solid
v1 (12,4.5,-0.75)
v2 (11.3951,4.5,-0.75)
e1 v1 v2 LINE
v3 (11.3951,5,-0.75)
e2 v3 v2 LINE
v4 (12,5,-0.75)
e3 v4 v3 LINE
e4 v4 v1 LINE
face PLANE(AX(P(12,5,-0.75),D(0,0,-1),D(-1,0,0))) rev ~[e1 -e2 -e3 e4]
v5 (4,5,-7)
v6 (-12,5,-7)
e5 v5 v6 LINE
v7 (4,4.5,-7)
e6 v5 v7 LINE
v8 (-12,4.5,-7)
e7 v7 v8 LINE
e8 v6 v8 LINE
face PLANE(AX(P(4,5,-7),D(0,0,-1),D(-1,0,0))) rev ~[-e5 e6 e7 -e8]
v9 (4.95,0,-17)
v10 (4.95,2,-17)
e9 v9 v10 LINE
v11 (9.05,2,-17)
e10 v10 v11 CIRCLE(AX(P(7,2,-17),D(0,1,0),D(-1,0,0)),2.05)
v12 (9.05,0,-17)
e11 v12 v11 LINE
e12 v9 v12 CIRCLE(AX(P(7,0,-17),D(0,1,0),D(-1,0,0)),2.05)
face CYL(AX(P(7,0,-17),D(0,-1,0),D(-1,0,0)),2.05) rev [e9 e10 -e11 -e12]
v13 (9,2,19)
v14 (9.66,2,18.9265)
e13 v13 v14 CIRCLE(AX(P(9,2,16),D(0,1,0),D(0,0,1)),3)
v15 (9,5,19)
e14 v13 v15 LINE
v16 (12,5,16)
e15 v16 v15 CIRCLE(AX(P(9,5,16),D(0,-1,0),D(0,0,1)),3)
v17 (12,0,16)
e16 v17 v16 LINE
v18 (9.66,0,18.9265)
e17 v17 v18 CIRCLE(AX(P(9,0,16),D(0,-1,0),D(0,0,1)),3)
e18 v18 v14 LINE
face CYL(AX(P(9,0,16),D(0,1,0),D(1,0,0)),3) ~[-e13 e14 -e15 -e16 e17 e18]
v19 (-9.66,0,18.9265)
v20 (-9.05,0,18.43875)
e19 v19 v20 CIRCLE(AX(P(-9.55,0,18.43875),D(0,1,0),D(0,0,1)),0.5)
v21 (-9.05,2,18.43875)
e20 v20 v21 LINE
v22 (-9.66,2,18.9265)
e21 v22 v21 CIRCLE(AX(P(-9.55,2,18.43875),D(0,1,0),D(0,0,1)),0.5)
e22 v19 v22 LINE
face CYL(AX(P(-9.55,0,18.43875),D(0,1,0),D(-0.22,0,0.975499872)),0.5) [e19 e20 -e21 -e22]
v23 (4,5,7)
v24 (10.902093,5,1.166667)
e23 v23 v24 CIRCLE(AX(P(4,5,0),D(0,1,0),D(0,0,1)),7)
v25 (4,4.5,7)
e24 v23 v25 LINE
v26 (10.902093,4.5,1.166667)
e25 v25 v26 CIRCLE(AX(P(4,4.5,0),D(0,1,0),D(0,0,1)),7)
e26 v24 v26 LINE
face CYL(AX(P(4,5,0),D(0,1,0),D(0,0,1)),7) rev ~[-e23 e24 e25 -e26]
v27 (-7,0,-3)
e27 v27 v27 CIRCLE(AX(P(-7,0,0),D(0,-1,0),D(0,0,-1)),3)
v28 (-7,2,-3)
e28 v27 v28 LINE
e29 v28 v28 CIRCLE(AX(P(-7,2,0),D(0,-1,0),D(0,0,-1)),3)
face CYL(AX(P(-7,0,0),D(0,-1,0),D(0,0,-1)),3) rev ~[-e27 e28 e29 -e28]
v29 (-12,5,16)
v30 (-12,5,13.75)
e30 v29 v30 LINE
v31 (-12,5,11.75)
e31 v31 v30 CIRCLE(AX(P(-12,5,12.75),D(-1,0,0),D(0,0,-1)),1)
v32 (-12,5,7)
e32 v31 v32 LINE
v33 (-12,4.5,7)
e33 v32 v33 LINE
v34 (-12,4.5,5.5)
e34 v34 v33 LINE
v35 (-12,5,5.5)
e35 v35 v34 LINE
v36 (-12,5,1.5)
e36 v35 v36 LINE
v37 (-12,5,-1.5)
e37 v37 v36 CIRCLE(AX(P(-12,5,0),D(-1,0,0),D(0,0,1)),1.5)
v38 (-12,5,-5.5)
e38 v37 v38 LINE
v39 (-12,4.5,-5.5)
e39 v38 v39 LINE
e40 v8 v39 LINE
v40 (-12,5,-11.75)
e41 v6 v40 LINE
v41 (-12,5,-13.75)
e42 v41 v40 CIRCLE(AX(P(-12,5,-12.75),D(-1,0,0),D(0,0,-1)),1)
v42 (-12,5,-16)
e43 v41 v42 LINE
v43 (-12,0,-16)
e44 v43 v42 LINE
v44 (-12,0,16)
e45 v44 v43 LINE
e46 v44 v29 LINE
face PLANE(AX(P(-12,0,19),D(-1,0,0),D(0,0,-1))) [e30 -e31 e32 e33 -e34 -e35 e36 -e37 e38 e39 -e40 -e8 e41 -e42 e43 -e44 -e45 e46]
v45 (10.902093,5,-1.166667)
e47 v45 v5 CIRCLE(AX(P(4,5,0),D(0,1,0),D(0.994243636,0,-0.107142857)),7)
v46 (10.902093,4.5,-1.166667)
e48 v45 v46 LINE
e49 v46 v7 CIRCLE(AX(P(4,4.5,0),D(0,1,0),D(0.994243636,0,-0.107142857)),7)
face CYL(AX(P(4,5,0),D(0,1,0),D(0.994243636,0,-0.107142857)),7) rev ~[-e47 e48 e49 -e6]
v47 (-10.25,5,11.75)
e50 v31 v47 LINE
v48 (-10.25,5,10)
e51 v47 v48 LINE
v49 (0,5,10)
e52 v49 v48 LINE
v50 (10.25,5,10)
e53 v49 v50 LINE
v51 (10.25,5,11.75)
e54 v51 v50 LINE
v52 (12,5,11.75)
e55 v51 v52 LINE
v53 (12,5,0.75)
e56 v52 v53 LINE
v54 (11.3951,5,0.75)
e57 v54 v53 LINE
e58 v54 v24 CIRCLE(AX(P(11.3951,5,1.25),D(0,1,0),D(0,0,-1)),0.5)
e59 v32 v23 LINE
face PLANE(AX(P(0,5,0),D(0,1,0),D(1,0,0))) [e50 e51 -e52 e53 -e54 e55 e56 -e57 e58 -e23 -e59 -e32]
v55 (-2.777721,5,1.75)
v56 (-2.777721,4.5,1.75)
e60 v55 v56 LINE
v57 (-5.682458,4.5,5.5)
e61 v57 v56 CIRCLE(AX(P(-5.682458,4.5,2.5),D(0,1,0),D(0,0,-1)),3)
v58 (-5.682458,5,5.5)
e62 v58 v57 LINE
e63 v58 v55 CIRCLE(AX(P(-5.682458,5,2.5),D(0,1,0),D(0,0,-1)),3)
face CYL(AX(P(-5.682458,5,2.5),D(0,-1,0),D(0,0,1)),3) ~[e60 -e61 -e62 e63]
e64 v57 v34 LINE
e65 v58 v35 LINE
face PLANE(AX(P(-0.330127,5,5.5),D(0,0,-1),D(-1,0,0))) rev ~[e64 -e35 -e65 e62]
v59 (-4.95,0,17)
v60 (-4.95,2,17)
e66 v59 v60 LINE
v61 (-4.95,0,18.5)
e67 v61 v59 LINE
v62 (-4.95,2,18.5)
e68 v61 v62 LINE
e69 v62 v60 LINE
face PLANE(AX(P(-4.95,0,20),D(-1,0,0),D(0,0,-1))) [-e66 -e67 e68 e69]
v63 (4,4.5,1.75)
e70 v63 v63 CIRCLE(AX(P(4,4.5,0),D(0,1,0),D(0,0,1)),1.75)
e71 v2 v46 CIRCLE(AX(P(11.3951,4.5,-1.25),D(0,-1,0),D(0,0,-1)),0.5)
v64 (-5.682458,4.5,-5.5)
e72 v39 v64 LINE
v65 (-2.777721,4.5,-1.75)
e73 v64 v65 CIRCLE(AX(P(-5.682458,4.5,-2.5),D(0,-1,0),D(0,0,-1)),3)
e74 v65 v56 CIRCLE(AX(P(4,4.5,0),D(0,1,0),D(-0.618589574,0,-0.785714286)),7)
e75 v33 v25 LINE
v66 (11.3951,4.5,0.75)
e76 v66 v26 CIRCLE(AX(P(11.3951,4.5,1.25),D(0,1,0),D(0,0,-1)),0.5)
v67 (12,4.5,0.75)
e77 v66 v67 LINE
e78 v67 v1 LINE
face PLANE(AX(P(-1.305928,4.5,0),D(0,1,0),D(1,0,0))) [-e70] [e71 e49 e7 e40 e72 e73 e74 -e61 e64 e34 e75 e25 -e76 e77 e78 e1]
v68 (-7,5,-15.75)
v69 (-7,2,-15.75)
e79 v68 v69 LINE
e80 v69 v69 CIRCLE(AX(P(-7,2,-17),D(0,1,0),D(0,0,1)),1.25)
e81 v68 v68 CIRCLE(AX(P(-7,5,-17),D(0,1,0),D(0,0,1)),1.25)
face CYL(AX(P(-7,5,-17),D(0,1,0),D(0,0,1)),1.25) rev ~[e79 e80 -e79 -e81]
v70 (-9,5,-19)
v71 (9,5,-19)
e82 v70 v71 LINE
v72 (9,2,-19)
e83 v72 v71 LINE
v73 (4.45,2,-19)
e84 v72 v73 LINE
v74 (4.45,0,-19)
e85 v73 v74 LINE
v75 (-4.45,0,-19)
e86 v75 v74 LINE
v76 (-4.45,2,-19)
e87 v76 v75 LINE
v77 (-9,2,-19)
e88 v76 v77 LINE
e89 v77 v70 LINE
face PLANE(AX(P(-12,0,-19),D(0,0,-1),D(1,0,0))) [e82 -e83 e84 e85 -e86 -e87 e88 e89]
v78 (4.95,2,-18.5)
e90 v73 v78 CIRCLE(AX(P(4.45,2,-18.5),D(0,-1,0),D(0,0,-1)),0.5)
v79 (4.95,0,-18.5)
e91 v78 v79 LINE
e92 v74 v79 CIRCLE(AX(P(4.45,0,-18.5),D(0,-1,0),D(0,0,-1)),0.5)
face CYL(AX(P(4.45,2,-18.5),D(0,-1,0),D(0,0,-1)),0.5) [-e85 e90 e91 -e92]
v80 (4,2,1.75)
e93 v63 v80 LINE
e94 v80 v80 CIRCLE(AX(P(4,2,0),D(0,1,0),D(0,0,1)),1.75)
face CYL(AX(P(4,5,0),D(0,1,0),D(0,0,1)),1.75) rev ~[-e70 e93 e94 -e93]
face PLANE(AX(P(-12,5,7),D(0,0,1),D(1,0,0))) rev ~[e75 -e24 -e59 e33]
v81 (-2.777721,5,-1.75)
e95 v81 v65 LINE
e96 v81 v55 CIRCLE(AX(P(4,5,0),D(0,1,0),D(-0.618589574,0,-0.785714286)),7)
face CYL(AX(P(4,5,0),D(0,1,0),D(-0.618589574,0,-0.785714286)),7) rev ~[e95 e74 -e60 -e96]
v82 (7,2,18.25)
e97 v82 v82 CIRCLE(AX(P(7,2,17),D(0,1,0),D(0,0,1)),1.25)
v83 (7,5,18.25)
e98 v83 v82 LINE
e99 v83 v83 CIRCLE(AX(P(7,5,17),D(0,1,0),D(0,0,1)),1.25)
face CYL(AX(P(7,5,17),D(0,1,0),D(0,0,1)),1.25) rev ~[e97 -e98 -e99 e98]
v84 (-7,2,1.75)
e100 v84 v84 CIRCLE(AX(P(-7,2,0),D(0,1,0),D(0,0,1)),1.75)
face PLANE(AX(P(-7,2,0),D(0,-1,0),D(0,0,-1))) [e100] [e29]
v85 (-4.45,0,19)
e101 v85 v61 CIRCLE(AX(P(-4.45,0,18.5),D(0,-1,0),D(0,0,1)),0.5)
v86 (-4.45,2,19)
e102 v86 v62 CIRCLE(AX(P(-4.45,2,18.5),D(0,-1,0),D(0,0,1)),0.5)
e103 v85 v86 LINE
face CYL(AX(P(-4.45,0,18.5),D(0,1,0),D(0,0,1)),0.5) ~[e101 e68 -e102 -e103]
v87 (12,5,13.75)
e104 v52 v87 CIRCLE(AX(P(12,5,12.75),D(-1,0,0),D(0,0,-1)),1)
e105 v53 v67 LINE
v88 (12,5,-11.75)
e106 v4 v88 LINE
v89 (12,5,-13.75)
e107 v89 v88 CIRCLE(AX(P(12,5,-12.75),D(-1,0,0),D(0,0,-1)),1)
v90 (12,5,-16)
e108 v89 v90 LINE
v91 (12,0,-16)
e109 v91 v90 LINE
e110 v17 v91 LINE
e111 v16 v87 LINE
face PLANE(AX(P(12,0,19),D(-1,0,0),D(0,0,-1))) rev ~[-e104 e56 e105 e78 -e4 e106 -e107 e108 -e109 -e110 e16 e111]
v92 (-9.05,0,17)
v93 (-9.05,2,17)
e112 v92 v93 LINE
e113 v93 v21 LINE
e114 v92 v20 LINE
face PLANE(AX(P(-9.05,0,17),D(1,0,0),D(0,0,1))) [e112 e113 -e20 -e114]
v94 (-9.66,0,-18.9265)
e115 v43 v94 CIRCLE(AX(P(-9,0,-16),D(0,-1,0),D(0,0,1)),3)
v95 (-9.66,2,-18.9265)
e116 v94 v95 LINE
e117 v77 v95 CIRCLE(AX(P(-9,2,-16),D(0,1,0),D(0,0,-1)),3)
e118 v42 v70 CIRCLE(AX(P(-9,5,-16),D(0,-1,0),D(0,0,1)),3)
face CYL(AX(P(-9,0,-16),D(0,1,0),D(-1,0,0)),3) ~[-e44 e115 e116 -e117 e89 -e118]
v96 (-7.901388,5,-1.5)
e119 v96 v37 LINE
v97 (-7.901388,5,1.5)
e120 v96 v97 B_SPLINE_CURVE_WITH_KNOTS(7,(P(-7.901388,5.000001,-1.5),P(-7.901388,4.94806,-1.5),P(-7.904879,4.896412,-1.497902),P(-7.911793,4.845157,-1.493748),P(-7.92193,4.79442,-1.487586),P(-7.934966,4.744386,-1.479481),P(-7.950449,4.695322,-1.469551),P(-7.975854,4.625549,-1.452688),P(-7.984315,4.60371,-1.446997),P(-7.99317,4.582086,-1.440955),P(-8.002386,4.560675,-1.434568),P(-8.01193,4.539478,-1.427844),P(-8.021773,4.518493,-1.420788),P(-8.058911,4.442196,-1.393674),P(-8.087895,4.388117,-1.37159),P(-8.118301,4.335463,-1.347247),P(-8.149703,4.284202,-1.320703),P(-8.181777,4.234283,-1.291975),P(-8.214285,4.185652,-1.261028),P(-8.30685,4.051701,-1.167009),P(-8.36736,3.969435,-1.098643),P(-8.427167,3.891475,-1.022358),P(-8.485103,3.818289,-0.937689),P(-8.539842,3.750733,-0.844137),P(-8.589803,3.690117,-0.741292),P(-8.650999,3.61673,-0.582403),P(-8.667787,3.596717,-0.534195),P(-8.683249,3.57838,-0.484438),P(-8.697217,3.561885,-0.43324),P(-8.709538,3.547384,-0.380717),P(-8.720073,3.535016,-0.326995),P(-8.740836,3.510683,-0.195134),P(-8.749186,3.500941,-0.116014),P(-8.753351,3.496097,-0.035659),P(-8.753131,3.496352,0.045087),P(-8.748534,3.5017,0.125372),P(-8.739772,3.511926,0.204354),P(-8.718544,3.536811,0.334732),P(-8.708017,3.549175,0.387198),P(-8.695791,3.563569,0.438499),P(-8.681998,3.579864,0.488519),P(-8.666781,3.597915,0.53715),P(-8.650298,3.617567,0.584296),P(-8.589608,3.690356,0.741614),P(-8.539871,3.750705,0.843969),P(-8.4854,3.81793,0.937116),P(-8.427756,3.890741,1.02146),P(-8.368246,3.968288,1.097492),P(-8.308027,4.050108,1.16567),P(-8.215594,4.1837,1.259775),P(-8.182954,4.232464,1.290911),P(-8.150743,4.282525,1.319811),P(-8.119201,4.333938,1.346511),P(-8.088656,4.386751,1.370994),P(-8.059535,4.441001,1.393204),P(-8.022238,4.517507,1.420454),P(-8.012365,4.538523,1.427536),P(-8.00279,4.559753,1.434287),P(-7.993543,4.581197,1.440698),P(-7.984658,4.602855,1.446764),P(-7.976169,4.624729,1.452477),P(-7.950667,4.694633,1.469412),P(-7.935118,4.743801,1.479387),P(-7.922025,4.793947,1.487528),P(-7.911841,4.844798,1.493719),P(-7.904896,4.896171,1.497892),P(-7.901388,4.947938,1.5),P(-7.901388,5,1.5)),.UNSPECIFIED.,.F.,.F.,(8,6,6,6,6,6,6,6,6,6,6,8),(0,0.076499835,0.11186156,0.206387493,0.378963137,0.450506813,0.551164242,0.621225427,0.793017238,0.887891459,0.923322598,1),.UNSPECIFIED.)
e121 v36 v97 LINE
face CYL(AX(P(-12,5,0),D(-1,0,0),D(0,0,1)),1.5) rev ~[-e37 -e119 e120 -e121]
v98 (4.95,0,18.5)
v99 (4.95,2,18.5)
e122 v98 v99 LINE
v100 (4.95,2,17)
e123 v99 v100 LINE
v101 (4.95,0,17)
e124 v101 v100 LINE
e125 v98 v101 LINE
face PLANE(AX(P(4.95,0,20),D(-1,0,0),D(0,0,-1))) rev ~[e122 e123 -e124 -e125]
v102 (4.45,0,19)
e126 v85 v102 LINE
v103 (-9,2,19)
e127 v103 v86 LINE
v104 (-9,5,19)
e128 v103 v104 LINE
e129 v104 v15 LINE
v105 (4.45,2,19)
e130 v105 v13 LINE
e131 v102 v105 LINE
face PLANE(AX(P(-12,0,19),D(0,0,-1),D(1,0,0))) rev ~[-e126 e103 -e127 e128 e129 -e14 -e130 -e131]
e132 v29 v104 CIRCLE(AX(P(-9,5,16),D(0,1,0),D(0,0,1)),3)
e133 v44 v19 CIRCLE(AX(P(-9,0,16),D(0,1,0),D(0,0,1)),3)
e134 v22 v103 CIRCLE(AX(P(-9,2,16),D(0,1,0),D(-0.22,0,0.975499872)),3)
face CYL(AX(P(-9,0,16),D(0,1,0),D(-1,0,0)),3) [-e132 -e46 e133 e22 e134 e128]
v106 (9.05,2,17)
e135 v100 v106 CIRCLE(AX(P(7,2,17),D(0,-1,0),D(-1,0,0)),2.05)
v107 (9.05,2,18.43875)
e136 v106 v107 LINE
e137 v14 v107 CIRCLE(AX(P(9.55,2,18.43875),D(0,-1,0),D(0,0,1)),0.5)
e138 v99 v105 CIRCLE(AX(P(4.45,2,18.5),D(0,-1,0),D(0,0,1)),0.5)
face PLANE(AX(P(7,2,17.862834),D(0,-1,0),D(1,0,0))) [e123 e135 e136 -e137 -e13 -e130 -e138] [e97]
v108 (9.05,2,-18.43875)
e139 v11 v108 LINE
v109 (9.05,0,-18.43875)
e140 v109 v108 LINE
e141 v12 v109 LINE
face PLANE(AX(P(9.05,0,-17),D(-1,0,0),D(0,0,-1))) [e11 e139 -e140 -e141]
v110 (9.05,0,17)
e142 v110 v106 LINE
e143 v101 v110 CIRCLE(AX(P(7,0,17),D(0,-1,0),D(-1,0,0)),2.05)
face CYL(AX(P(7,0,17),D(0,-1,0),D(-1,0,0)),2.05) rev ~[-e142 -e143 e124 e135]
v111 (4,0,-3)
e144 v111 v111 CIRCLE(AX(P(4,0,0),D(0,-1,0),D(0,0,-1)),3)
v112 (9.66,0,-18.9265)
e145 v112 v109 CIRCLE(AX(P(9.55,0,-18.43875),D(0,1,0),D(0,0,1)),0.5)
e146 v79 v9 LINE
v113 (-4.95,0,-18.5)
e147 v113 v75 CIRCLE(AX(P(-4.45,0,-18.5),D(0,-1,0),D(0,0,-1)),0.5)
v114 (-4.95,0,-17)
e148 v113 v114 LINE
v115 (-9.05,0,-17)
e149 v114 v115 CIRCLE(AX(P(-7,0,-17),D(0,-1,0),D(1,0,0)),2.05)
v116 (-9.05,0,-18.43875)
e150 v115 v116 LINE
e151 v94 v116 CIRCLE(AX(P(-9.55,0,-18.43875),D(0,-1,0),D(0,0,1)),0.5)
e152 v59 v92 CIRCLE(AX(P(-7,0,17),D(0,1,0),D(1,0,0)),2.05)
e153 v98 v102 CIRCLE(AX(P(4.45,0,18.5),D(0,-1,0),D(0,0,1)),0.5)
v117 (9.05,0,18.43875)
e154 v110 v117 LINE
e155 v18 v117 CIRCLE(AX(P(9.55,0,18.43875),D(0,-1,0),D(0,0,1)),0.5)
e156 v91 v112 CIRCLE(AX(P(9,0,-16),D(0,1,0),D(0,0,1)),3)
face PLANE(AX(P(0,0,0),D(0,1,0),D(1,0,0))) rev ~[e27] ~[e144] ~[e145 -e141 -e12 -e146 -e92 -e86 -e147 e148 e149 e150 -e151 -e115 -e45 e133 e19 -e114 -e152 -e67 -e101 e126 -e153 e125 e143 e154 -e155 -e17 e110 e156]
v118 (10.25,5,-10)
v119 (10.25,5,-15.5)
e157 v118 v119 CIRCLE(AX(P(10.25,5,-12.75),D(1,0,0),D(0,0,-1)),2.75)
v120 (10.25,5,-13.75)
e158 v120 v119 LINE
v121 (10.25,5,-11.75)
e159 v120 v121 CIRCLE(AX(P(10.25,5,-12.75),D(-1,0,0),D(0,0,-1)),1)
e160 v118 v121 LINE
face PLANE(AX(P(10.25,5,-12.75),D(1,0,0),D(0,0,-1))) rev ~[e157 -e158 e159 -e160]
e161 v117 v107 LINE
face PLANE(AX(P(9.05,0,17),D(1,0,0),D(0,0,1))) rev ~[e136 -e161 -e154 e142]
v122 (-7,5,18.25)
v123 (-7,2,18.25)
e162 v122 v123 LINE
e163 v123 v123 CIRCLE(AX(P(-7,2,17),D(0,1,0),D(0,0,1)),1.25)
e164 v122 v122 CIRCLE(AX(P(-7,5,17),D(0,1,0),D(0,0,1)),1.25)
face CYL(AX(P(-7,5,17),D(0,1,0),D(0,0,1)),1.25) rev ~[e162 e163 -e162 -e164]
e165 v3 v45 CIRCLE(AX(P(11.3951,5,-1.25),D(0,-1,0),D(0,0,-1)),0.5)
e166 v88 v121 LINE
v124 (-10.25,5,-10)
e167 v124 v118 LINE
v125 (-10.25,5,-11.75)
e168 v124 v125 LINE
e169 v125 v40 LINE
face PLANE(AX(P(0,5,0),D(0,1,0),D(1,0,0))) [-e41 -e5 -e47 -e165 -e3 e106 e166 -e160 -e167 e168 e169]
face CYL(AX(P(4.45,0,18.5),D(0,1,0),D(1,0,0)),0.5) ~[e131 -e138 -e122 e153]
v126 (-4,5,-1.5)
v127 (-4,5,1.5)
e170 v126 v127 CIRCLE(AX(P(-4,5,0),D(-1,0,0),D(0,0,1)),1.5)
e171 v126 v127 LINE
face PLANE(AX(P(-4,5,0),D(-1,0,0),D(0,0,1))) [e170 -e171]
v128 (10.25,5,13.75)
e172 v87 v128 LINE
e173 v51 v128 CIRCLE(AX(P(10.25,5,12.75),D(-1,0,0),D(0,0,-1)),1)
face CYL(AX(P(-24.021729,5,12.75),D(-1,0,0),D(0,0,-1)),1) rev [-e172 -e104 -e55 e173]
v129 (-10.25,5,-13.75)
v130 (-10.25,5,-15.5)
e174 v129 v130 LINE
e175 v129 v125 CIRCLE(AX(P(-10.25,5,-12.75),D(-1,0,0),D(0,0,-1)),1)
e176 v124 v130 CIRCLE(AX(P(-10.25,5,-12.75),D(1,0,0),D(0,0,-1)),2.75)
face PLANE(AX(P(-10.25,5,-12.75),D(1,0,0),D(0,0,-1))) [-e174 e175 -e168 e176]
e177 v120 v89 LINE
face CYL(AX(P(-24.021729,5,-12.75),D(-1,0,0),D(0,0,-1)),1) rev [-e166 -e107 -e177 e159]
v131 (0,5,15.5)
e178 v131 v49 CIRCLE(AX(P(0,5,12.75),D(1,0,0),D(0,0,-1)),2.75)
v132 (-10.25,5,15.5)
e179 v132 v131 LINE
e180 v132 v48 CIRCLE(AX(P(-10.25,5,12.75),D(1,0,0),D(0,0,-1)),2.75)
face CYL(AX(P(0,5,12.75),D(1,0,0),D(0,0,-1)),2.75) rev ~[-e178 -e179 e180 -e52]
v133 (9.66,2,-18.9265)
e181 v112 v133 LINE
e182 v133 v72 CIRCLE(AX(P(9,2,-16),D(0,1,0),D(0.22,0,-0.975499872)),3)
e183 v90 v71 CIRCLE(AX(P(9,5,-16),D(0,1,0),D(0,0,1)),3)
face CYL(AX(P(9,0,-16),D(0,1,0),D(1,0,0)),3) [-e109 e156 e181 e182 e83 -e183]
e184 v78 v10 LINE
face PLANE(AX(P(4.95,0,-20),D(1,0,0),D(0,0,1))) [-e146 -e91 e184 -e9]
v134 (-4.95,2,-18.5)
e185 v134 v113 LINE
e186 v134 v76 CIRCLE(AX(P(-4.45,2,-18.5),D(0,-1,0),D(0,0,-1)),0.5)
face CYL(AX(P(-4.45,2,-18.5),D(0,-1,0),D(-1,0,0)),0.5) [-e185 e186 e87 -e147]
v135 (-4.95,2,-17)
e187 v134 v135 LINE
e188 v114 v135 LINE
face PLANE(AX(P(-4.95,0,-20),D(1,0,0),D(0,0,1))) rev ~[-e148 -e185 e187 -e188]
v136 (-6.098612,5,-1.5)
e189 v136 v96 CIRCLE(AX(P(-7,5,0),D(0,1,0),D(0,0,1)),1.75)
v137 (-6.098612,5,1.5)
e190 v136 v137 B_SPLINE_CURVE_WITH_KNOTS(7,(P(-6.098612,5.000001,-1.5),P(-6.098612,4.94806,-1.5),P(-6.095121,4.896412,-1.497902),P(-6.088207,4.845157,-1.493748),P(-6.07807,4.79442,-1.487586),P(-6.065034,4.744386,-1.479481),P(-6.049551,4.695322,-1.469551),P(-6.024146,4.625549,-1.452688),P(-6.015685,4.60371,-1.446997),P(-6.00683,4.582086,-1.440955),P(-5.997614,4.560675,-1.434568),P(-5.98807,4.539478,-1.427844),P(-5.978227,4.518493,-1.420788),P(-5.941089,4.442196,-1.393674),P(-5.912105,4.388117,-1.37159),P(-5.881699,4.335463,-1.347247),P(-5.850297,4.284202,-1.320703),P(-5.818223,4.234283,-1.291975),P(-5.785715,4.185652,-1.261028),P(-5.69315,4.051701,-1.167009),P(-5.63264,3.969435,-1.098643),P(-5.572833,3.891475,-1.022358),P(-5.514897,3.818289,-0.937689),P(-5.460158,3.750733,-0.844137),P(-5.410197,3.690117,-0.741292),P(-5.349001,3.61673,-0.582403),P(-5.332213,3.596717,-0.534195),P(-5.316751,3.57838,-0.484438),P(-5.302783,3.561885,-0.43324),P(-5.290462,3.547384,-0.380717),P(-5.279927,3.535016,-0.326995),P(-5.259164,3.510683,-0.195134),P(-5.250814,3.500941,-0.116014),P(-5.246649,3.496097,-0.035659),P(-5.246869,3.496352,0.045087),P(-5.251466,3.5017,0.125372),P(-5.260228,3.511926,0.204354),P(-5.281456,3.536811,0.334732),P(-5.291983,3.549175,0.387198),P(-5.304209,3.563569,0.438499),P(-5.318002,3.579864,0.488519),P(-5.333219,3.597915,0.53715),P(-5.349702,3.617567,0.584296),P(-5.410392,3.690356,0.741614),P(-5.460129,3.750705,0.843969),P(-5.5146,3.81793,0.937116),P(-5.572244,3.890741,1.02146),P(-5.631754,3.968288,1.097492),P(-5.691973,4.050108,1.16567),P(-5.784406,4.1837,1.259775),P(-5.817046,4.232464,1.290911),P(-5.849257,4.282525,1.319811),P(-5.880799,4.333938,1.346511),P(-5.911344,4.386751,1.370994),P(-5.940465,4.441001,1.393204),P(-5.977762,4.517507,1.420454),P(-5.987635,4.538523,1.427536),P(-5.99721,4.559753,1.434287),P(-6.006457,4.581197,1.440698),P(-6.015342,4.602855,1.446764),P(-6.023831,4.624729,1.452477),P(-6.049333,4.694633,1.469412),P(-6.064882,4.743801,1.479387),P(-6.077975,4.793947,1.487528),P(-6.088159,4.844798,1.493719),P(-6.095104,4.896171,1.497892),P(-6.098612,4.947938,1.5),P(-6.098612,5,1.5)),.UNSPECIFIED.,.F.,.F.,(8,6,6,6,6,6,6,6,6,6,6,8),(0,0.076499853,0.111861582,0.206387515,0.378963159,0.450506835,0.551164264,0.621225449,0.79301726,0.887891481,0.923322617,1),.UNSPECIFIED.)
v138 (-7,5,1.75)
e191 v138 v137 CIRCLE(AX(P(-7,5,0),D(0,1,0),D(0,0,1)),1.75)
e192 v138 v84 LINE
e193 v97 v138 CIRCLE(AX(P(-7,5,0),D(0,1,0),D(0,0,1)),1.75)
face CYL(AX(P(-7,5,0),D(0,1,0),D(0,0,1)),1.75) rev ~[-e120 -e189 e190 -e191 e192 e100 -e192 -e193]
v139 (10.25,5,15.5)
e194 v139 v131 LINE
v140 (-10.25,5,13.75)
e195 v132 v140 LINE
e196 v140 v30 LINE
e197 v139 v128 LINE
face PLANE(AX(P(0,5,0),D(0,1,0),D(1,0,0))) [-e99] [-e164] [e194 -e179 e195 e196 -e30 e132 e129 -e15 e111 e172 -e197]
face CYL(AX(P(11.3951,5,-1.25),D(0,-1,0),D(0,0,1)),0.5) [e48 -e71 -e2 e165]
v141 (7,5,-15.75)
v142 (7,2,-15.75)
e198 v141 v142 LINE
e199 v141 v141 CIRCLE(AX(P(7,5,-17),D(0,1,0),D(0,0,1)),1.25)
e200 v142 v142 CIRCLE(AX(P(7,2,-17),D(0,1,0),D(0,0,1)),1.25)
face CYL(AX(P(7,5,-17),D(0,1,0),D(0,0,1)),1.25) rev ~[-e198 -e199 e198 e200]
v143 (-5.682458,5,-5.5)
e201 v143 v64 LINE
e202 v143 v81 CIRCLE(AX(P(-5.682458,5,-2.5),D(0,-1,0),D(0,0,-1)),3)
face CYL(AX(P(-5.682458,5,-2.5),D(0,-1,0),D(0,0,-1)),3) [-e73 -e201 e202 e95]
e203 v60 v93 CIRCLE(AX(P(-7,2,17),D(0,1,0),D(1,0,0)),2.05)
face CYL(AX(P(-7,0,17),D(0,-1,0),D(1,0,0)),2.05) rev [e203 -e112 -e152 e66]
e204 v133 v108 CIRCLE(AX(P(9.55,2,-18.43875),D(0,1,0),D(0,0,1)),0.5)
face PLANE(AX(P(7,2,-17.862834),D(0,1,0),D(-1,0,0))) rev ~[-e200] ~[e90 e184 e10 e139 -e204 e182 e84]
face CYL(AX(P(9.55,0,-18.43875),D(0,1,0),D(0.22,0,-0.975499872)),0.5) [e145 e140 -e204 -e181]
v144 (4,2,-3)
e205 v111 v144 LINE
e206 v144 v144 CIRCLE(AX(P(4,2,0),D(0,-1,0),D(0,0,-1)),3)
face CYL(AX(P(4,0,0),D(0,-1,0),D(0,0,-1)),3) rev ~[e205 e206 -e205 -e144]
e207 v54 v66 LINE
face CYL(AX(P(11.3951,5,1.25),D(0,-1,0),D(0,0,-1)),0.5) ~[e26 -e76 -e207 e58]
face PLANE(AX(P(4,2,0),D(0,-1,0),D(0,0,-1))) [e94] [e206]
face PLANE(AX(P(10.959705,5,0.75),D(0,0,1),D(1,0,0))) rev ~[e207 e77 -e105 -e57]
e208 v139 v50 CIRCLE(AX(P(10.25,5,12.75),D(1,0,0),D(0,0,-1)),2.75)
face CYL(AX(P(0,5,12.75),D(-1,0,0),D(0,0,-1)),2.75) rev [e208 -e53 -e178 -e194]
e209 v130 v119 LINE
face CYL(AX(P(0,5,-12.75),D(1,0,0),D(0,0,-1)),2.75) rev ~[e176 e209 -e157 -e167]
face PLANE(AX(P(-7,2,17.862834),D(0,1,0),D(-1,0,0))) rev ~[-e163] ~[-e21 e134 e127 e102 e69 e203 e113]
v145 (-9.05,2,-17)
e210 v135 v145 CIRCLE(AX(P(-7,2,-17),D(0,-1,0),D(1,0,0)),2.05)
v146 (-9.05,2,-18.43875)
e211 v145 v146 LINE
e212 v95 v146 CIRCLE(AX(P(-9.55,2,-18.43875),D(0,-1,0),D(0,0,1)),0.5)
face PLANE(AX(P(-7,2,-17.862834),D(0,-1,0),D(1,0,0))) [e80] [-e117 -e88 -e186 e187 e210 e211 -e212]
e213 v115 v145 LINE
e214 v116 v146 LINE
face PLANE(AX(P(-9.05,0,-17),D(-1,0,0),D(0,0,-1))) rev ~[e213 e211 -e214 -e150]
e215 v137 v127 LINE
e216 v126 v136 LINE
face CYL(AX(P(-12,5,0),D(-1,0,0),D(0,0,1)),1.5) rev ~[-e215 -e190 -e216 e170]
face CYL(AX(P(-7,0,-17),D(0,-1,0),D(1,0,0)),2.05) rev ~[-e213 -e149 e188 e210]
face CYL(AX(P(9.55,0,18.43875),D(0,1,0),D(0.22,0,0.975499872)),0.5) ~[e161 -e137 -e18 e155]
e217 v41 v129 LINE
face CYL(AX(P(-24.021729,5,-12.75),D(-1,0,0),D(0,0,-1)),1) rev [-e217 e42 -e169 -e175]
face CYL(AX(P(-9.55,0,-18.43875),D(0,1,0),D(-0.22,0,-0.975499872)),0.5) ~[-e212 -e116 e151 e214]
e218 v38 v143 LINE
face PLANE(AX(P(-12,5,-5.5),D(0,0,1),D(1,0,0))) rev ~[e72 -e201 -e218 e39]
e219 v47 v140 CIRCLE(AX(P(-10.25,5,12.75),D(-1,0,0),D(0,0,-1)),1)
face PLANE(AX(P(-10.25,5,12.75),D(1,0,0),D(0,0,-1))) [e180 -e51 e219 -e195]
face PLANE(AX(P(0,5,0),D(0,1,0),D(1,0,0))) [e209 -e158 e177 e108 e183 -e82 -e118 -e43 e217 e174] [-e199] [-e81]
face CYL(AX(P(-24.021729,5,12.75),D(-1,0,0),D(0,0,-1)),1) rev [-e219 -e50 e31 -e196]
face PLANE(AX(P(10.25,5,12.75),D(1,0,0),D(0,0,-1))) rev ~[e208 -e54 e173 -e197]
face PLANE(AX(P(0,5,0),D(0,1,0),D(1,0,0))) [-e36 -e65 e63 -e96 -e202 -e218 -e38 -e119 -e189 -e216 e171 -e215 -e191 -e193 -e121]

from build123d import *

# Parameters (mm, degrees)
SKETCH_1_W               = 24
SKETCH_1_H               = 38
EXTRUDE_1_DEPTH          = 5
SKETCH_2_R               = 2.75
CUT_EXTRUDE_1_DEPTH      = 10.25
CUT_EXTRUDE_2_DEPTH      = 24.021728866
CUT_EXTRUDE_2_DEPTH_BACK = 24.021728866
SKETCH_3_R               = 1
CUT_EXTRUDE_3_DEPTH      = 0.5
SKETCH_5_R               = 1.75
CUT_EXTRUDE_4_DEPTH      = 24.021728866
FILLET_1_R               = 3
FILLET_2_R               = 3
SKETCH_6_R               = 1.5
CUT_EXTRUDE_5_DEPTH      = 8
FILLET_3_R               = 0.5
SKETCH_7_R               = 1.25
CUT_EXTRUDE_6_DEPTH      = 24.02172894
SKETCH_8_R               = 3
CUT_EXTRUDE_7_DEPTH      = 2
CUT_EXTRUDE_8_DEPTH      = 2
FILLET_4_R               = 0.5


with BuildPart() as part:
    # Эскиз1 → Бобышка-Вытянуть1 (new body)
    with BuildSketch(Plane(origin=(0, 0, 0), x_dir=(1, 0, 0), z_dir=(0, 1, 0))):
        Rectangle(SKETCH_1_W, SKETCH_1_H)
    extrude(amount=EXTRUDE_1_DEPTH)

    # Эскиз2 → Вырез-Вытянуть1 (cut, symmetric)
    with BuildSketch(Plane(origin=(0, 0, 0), x_dir=(0, 0, -1), z_dir=(1, 0, 0))):
        with Locations((-12.75, 5)):
            Circle(SKETCH_2_R)
        with Locations((12.75, 5)):
            Circle(SKETCH_2_R)
    extrude(amount=CUT_EXTRUDE_1_DEPTH, both=True, mode=Mode.SUBTRACT)

    # Эскиз3 → Вырез-Вытянуть2 (cut, two sides: drawn at the far end of the back side and taken through both)
    with BuildSketch(Plane(origin=(0, 0, 0), x_dir=(0, 0, -1), z_dir=(1, 0, 0)).offset(-CUT_EXTRUDE_2_DEPTH_BACK)):
        with Locations((-12.75, 5)):
            Circle(SKETCH_3_R)
        with Locations((12.75, 5)):
            Circle(SKETCH_3_R)
    extrude(amount=CUT_EXTRUDE_2_DEPTH + CUT_EXTRUDE_2_DEPTH_BACK, mode=Mode.SUBTRACT)

    # Эскиз4 → Вырез-Вытянуть3 (cut)
    with BuildSketch(Plane(origin=(0, 5, 0), x_dir=(1, 0, 0), z_dir=(0, 1, 0))):
        with BuildLine():
            Line((4, 7), (-12, 7))
            Line((-12, 7), (-12, 5.5))
            Line((-12, 5.5), (-0.330127019, 5.5))
            ThreePointArc((-0.330127019, 5.5), (-3, 0), (-0.330127019, -5.5))
            Line((-0.330127019, -5.5), (-12, -5.5))
            Line((-12, -5.5), (-12, -7))
            Line((-12, -7), (4, -7))
            ThreePointArc((4, -7), (8.677071733, -5.208166664), (10.959705454, -0.75))
            Line((10.959705454, -0.75), (12, -0.75))
            Line((12, -0.75), (12, 0.75))
            Line((12, 0.75), (10.959705454, 0.75))
            ThreePointArc((10.959705454, 0.75), (8.677071733, 5.208166664), (4, 7))
        make_face()
    extrude(amount=-CUT_EXTRUDE_3_DEPTH, mode=Mode.SUBTRACT)

    # Эскиз5 → Вырез-Вытянуть4 (cut, through all)
    with BuildSketch(Plane(origin=(0, 5, 0), x_dir=(1, 0, 0), z_dir=(0, 1, 0))):
        with Locations(Location((4, 0, 0), (0, 0, 270))):
            Circle(SKETCH_5_R)
        with Locations(Location((-7, 0, 0), (0, 0, 270))):
            Circle(SKETCH_5_R)
    extrude(amount=-CUT_EXTRUDE_4_DEPTH, mode=Mode.SUBTRACT)

    # Скругление1
    fillet_1_edges = [part.edges().sort_by_distance(p)[0] for p in [
        (-0.330127019, 4.75, 5.5),
        (-0.330127019, 4.75, -5.5),
    ]]
    fillet(fillet_1_edges, radius=FILLET_1_R)

    # Скругление2
    fillet_2_edges = [part.edges().sort_by_distance(p)[0] for p in [
        (12, 2.5, 19),
        (-12, 2.5, 19),
        (-12, 2.5, -19),
        (12, 2.5, -19),
    ]]
    fillet(fillet_2_edges, radius=FILLET_2_R)

    # Эскиз6 → Вырез-Вытянуть5 (cut)
    with BuildSketch(Plane.ZY.offset(12)):
        with Locations((0, 5)):
            Circle(SKETCH_6_R)
    extrude(amount=-CUT_EXTRUDE_5_DEPTH, mode=Mode.SUBTRACT)

    # Скругление3
    fillet_3_edges = [part.edges().sort_by_distance(p)[0] for p in [
        (10.959705454, 4.75, -0.75),
        (10.959705454, 4.75, 0.75),
    ]]
    fillet(fillet_3_edges, radius=FILLET_3_R)

    # Эскиз7 → Вырез-Вытянуть6 (cut, through all)
    with BuildSketch(Plane(origin=(0, 5, 0), x_dir=(1, 0, 0), z_dir=(0, 1, 0))):
        with Locations(Location((-7, 17, 0), (0, 0, 270))):
            Circle(SKETCH_7_R)
        with Locations(Location((7, 17, 0), (0, 0, 270))):
            Circle(SKETCH_7_R)
        with Locations(Location((7, -17, 0), (0, 0, 270))):
            Circle(SKETCH_7_R)
        with Locations(Location((-7, -17, 0), (0, 0, 270))):
            Circle(SKETCH_7_R)
    extrude(amount=-CUT_EXTRUDE_6_DEPTH, mode=Mode.SUBTRACT)

    # Эскиз8 → Вырез-Вытянуть7 (cut)
    with BuildSketch(Plane.XZ):
        with Locations(Location((4, 0, 0), (0, 0, 270))):
            Circle(SKETCH_8_R)
        with Locations(Location((-7, 0, 0), (0, 0, 270))):
            Circle(SKETCH_8_R)
    extrude(amount=-CUT_EXTRUDE_7_DEPTH, mode=Mode.SUBTRACT)

    # Эскиз9 → Вырез-Вытянуть8 (cut)
    with BuildSketch(Plane.XZ):
        with BuildLine():
            Line((-9.05, 17), (-9.05, 20))
            Line((-9.05, 20), (-4.95, 20))
            Line((-4.95, 20), (-4.95, 17))
            ThreePointArc((-4.95, 17), (-7, 14.95), (-9.05, 17))
        make_face()
        with BuildLine():
            Line((9.05, 17), (9.05, 20))
            Line((9.05, 20), (4.95, 20))
            Line((4.95, 20), (4.95, 17))
            ThreePointArc((4.95, 17), (7, 14.95), (9.05, 17))
        make_face()
        with BuildLine():
            Line((4.95, -20), (4.95, -17))
            ThreePointArc((4.95, -17), (7, -14.95), (9.05, -17))
            Line((9.05, -17), (9.05, -20))
            Line((9.05, -20), (4.95, -20))
        make_face()
        with BuildLine():
            Line((-9.05, -17), (-9.05, -20))
            Line((-9.05, -20), (-4.95, -20))
            Line((-4.95, -20), (-4.95, -17))
            ThreePointArc((-4.95, -17), (-7, -14.95), (-9.05, -17))
        make_face()
    extrude(amount=-CUT_EXTRUDE_8_DEPTH, mode=Mode.SUBTRACT)

    # Скругление4
    fillet_4_edges = [part.edges().sort_by_distance(p)[0] for p in [
        (9.05, 1, 18.999583304),
        (-9.05, 1, 18.999583304),
        (9.05, 1, -18.999583304),
        (-9.05, 1, -18.999583304),
        (-4.95, 1, -19),
        (4.95, 1, -19),
        (4.95, 1, 19),
        (-4.95, 1, 19),
    ]]
    fillet(fillet_4_edges, radius=FILLET_4_R)


solid = part.part
